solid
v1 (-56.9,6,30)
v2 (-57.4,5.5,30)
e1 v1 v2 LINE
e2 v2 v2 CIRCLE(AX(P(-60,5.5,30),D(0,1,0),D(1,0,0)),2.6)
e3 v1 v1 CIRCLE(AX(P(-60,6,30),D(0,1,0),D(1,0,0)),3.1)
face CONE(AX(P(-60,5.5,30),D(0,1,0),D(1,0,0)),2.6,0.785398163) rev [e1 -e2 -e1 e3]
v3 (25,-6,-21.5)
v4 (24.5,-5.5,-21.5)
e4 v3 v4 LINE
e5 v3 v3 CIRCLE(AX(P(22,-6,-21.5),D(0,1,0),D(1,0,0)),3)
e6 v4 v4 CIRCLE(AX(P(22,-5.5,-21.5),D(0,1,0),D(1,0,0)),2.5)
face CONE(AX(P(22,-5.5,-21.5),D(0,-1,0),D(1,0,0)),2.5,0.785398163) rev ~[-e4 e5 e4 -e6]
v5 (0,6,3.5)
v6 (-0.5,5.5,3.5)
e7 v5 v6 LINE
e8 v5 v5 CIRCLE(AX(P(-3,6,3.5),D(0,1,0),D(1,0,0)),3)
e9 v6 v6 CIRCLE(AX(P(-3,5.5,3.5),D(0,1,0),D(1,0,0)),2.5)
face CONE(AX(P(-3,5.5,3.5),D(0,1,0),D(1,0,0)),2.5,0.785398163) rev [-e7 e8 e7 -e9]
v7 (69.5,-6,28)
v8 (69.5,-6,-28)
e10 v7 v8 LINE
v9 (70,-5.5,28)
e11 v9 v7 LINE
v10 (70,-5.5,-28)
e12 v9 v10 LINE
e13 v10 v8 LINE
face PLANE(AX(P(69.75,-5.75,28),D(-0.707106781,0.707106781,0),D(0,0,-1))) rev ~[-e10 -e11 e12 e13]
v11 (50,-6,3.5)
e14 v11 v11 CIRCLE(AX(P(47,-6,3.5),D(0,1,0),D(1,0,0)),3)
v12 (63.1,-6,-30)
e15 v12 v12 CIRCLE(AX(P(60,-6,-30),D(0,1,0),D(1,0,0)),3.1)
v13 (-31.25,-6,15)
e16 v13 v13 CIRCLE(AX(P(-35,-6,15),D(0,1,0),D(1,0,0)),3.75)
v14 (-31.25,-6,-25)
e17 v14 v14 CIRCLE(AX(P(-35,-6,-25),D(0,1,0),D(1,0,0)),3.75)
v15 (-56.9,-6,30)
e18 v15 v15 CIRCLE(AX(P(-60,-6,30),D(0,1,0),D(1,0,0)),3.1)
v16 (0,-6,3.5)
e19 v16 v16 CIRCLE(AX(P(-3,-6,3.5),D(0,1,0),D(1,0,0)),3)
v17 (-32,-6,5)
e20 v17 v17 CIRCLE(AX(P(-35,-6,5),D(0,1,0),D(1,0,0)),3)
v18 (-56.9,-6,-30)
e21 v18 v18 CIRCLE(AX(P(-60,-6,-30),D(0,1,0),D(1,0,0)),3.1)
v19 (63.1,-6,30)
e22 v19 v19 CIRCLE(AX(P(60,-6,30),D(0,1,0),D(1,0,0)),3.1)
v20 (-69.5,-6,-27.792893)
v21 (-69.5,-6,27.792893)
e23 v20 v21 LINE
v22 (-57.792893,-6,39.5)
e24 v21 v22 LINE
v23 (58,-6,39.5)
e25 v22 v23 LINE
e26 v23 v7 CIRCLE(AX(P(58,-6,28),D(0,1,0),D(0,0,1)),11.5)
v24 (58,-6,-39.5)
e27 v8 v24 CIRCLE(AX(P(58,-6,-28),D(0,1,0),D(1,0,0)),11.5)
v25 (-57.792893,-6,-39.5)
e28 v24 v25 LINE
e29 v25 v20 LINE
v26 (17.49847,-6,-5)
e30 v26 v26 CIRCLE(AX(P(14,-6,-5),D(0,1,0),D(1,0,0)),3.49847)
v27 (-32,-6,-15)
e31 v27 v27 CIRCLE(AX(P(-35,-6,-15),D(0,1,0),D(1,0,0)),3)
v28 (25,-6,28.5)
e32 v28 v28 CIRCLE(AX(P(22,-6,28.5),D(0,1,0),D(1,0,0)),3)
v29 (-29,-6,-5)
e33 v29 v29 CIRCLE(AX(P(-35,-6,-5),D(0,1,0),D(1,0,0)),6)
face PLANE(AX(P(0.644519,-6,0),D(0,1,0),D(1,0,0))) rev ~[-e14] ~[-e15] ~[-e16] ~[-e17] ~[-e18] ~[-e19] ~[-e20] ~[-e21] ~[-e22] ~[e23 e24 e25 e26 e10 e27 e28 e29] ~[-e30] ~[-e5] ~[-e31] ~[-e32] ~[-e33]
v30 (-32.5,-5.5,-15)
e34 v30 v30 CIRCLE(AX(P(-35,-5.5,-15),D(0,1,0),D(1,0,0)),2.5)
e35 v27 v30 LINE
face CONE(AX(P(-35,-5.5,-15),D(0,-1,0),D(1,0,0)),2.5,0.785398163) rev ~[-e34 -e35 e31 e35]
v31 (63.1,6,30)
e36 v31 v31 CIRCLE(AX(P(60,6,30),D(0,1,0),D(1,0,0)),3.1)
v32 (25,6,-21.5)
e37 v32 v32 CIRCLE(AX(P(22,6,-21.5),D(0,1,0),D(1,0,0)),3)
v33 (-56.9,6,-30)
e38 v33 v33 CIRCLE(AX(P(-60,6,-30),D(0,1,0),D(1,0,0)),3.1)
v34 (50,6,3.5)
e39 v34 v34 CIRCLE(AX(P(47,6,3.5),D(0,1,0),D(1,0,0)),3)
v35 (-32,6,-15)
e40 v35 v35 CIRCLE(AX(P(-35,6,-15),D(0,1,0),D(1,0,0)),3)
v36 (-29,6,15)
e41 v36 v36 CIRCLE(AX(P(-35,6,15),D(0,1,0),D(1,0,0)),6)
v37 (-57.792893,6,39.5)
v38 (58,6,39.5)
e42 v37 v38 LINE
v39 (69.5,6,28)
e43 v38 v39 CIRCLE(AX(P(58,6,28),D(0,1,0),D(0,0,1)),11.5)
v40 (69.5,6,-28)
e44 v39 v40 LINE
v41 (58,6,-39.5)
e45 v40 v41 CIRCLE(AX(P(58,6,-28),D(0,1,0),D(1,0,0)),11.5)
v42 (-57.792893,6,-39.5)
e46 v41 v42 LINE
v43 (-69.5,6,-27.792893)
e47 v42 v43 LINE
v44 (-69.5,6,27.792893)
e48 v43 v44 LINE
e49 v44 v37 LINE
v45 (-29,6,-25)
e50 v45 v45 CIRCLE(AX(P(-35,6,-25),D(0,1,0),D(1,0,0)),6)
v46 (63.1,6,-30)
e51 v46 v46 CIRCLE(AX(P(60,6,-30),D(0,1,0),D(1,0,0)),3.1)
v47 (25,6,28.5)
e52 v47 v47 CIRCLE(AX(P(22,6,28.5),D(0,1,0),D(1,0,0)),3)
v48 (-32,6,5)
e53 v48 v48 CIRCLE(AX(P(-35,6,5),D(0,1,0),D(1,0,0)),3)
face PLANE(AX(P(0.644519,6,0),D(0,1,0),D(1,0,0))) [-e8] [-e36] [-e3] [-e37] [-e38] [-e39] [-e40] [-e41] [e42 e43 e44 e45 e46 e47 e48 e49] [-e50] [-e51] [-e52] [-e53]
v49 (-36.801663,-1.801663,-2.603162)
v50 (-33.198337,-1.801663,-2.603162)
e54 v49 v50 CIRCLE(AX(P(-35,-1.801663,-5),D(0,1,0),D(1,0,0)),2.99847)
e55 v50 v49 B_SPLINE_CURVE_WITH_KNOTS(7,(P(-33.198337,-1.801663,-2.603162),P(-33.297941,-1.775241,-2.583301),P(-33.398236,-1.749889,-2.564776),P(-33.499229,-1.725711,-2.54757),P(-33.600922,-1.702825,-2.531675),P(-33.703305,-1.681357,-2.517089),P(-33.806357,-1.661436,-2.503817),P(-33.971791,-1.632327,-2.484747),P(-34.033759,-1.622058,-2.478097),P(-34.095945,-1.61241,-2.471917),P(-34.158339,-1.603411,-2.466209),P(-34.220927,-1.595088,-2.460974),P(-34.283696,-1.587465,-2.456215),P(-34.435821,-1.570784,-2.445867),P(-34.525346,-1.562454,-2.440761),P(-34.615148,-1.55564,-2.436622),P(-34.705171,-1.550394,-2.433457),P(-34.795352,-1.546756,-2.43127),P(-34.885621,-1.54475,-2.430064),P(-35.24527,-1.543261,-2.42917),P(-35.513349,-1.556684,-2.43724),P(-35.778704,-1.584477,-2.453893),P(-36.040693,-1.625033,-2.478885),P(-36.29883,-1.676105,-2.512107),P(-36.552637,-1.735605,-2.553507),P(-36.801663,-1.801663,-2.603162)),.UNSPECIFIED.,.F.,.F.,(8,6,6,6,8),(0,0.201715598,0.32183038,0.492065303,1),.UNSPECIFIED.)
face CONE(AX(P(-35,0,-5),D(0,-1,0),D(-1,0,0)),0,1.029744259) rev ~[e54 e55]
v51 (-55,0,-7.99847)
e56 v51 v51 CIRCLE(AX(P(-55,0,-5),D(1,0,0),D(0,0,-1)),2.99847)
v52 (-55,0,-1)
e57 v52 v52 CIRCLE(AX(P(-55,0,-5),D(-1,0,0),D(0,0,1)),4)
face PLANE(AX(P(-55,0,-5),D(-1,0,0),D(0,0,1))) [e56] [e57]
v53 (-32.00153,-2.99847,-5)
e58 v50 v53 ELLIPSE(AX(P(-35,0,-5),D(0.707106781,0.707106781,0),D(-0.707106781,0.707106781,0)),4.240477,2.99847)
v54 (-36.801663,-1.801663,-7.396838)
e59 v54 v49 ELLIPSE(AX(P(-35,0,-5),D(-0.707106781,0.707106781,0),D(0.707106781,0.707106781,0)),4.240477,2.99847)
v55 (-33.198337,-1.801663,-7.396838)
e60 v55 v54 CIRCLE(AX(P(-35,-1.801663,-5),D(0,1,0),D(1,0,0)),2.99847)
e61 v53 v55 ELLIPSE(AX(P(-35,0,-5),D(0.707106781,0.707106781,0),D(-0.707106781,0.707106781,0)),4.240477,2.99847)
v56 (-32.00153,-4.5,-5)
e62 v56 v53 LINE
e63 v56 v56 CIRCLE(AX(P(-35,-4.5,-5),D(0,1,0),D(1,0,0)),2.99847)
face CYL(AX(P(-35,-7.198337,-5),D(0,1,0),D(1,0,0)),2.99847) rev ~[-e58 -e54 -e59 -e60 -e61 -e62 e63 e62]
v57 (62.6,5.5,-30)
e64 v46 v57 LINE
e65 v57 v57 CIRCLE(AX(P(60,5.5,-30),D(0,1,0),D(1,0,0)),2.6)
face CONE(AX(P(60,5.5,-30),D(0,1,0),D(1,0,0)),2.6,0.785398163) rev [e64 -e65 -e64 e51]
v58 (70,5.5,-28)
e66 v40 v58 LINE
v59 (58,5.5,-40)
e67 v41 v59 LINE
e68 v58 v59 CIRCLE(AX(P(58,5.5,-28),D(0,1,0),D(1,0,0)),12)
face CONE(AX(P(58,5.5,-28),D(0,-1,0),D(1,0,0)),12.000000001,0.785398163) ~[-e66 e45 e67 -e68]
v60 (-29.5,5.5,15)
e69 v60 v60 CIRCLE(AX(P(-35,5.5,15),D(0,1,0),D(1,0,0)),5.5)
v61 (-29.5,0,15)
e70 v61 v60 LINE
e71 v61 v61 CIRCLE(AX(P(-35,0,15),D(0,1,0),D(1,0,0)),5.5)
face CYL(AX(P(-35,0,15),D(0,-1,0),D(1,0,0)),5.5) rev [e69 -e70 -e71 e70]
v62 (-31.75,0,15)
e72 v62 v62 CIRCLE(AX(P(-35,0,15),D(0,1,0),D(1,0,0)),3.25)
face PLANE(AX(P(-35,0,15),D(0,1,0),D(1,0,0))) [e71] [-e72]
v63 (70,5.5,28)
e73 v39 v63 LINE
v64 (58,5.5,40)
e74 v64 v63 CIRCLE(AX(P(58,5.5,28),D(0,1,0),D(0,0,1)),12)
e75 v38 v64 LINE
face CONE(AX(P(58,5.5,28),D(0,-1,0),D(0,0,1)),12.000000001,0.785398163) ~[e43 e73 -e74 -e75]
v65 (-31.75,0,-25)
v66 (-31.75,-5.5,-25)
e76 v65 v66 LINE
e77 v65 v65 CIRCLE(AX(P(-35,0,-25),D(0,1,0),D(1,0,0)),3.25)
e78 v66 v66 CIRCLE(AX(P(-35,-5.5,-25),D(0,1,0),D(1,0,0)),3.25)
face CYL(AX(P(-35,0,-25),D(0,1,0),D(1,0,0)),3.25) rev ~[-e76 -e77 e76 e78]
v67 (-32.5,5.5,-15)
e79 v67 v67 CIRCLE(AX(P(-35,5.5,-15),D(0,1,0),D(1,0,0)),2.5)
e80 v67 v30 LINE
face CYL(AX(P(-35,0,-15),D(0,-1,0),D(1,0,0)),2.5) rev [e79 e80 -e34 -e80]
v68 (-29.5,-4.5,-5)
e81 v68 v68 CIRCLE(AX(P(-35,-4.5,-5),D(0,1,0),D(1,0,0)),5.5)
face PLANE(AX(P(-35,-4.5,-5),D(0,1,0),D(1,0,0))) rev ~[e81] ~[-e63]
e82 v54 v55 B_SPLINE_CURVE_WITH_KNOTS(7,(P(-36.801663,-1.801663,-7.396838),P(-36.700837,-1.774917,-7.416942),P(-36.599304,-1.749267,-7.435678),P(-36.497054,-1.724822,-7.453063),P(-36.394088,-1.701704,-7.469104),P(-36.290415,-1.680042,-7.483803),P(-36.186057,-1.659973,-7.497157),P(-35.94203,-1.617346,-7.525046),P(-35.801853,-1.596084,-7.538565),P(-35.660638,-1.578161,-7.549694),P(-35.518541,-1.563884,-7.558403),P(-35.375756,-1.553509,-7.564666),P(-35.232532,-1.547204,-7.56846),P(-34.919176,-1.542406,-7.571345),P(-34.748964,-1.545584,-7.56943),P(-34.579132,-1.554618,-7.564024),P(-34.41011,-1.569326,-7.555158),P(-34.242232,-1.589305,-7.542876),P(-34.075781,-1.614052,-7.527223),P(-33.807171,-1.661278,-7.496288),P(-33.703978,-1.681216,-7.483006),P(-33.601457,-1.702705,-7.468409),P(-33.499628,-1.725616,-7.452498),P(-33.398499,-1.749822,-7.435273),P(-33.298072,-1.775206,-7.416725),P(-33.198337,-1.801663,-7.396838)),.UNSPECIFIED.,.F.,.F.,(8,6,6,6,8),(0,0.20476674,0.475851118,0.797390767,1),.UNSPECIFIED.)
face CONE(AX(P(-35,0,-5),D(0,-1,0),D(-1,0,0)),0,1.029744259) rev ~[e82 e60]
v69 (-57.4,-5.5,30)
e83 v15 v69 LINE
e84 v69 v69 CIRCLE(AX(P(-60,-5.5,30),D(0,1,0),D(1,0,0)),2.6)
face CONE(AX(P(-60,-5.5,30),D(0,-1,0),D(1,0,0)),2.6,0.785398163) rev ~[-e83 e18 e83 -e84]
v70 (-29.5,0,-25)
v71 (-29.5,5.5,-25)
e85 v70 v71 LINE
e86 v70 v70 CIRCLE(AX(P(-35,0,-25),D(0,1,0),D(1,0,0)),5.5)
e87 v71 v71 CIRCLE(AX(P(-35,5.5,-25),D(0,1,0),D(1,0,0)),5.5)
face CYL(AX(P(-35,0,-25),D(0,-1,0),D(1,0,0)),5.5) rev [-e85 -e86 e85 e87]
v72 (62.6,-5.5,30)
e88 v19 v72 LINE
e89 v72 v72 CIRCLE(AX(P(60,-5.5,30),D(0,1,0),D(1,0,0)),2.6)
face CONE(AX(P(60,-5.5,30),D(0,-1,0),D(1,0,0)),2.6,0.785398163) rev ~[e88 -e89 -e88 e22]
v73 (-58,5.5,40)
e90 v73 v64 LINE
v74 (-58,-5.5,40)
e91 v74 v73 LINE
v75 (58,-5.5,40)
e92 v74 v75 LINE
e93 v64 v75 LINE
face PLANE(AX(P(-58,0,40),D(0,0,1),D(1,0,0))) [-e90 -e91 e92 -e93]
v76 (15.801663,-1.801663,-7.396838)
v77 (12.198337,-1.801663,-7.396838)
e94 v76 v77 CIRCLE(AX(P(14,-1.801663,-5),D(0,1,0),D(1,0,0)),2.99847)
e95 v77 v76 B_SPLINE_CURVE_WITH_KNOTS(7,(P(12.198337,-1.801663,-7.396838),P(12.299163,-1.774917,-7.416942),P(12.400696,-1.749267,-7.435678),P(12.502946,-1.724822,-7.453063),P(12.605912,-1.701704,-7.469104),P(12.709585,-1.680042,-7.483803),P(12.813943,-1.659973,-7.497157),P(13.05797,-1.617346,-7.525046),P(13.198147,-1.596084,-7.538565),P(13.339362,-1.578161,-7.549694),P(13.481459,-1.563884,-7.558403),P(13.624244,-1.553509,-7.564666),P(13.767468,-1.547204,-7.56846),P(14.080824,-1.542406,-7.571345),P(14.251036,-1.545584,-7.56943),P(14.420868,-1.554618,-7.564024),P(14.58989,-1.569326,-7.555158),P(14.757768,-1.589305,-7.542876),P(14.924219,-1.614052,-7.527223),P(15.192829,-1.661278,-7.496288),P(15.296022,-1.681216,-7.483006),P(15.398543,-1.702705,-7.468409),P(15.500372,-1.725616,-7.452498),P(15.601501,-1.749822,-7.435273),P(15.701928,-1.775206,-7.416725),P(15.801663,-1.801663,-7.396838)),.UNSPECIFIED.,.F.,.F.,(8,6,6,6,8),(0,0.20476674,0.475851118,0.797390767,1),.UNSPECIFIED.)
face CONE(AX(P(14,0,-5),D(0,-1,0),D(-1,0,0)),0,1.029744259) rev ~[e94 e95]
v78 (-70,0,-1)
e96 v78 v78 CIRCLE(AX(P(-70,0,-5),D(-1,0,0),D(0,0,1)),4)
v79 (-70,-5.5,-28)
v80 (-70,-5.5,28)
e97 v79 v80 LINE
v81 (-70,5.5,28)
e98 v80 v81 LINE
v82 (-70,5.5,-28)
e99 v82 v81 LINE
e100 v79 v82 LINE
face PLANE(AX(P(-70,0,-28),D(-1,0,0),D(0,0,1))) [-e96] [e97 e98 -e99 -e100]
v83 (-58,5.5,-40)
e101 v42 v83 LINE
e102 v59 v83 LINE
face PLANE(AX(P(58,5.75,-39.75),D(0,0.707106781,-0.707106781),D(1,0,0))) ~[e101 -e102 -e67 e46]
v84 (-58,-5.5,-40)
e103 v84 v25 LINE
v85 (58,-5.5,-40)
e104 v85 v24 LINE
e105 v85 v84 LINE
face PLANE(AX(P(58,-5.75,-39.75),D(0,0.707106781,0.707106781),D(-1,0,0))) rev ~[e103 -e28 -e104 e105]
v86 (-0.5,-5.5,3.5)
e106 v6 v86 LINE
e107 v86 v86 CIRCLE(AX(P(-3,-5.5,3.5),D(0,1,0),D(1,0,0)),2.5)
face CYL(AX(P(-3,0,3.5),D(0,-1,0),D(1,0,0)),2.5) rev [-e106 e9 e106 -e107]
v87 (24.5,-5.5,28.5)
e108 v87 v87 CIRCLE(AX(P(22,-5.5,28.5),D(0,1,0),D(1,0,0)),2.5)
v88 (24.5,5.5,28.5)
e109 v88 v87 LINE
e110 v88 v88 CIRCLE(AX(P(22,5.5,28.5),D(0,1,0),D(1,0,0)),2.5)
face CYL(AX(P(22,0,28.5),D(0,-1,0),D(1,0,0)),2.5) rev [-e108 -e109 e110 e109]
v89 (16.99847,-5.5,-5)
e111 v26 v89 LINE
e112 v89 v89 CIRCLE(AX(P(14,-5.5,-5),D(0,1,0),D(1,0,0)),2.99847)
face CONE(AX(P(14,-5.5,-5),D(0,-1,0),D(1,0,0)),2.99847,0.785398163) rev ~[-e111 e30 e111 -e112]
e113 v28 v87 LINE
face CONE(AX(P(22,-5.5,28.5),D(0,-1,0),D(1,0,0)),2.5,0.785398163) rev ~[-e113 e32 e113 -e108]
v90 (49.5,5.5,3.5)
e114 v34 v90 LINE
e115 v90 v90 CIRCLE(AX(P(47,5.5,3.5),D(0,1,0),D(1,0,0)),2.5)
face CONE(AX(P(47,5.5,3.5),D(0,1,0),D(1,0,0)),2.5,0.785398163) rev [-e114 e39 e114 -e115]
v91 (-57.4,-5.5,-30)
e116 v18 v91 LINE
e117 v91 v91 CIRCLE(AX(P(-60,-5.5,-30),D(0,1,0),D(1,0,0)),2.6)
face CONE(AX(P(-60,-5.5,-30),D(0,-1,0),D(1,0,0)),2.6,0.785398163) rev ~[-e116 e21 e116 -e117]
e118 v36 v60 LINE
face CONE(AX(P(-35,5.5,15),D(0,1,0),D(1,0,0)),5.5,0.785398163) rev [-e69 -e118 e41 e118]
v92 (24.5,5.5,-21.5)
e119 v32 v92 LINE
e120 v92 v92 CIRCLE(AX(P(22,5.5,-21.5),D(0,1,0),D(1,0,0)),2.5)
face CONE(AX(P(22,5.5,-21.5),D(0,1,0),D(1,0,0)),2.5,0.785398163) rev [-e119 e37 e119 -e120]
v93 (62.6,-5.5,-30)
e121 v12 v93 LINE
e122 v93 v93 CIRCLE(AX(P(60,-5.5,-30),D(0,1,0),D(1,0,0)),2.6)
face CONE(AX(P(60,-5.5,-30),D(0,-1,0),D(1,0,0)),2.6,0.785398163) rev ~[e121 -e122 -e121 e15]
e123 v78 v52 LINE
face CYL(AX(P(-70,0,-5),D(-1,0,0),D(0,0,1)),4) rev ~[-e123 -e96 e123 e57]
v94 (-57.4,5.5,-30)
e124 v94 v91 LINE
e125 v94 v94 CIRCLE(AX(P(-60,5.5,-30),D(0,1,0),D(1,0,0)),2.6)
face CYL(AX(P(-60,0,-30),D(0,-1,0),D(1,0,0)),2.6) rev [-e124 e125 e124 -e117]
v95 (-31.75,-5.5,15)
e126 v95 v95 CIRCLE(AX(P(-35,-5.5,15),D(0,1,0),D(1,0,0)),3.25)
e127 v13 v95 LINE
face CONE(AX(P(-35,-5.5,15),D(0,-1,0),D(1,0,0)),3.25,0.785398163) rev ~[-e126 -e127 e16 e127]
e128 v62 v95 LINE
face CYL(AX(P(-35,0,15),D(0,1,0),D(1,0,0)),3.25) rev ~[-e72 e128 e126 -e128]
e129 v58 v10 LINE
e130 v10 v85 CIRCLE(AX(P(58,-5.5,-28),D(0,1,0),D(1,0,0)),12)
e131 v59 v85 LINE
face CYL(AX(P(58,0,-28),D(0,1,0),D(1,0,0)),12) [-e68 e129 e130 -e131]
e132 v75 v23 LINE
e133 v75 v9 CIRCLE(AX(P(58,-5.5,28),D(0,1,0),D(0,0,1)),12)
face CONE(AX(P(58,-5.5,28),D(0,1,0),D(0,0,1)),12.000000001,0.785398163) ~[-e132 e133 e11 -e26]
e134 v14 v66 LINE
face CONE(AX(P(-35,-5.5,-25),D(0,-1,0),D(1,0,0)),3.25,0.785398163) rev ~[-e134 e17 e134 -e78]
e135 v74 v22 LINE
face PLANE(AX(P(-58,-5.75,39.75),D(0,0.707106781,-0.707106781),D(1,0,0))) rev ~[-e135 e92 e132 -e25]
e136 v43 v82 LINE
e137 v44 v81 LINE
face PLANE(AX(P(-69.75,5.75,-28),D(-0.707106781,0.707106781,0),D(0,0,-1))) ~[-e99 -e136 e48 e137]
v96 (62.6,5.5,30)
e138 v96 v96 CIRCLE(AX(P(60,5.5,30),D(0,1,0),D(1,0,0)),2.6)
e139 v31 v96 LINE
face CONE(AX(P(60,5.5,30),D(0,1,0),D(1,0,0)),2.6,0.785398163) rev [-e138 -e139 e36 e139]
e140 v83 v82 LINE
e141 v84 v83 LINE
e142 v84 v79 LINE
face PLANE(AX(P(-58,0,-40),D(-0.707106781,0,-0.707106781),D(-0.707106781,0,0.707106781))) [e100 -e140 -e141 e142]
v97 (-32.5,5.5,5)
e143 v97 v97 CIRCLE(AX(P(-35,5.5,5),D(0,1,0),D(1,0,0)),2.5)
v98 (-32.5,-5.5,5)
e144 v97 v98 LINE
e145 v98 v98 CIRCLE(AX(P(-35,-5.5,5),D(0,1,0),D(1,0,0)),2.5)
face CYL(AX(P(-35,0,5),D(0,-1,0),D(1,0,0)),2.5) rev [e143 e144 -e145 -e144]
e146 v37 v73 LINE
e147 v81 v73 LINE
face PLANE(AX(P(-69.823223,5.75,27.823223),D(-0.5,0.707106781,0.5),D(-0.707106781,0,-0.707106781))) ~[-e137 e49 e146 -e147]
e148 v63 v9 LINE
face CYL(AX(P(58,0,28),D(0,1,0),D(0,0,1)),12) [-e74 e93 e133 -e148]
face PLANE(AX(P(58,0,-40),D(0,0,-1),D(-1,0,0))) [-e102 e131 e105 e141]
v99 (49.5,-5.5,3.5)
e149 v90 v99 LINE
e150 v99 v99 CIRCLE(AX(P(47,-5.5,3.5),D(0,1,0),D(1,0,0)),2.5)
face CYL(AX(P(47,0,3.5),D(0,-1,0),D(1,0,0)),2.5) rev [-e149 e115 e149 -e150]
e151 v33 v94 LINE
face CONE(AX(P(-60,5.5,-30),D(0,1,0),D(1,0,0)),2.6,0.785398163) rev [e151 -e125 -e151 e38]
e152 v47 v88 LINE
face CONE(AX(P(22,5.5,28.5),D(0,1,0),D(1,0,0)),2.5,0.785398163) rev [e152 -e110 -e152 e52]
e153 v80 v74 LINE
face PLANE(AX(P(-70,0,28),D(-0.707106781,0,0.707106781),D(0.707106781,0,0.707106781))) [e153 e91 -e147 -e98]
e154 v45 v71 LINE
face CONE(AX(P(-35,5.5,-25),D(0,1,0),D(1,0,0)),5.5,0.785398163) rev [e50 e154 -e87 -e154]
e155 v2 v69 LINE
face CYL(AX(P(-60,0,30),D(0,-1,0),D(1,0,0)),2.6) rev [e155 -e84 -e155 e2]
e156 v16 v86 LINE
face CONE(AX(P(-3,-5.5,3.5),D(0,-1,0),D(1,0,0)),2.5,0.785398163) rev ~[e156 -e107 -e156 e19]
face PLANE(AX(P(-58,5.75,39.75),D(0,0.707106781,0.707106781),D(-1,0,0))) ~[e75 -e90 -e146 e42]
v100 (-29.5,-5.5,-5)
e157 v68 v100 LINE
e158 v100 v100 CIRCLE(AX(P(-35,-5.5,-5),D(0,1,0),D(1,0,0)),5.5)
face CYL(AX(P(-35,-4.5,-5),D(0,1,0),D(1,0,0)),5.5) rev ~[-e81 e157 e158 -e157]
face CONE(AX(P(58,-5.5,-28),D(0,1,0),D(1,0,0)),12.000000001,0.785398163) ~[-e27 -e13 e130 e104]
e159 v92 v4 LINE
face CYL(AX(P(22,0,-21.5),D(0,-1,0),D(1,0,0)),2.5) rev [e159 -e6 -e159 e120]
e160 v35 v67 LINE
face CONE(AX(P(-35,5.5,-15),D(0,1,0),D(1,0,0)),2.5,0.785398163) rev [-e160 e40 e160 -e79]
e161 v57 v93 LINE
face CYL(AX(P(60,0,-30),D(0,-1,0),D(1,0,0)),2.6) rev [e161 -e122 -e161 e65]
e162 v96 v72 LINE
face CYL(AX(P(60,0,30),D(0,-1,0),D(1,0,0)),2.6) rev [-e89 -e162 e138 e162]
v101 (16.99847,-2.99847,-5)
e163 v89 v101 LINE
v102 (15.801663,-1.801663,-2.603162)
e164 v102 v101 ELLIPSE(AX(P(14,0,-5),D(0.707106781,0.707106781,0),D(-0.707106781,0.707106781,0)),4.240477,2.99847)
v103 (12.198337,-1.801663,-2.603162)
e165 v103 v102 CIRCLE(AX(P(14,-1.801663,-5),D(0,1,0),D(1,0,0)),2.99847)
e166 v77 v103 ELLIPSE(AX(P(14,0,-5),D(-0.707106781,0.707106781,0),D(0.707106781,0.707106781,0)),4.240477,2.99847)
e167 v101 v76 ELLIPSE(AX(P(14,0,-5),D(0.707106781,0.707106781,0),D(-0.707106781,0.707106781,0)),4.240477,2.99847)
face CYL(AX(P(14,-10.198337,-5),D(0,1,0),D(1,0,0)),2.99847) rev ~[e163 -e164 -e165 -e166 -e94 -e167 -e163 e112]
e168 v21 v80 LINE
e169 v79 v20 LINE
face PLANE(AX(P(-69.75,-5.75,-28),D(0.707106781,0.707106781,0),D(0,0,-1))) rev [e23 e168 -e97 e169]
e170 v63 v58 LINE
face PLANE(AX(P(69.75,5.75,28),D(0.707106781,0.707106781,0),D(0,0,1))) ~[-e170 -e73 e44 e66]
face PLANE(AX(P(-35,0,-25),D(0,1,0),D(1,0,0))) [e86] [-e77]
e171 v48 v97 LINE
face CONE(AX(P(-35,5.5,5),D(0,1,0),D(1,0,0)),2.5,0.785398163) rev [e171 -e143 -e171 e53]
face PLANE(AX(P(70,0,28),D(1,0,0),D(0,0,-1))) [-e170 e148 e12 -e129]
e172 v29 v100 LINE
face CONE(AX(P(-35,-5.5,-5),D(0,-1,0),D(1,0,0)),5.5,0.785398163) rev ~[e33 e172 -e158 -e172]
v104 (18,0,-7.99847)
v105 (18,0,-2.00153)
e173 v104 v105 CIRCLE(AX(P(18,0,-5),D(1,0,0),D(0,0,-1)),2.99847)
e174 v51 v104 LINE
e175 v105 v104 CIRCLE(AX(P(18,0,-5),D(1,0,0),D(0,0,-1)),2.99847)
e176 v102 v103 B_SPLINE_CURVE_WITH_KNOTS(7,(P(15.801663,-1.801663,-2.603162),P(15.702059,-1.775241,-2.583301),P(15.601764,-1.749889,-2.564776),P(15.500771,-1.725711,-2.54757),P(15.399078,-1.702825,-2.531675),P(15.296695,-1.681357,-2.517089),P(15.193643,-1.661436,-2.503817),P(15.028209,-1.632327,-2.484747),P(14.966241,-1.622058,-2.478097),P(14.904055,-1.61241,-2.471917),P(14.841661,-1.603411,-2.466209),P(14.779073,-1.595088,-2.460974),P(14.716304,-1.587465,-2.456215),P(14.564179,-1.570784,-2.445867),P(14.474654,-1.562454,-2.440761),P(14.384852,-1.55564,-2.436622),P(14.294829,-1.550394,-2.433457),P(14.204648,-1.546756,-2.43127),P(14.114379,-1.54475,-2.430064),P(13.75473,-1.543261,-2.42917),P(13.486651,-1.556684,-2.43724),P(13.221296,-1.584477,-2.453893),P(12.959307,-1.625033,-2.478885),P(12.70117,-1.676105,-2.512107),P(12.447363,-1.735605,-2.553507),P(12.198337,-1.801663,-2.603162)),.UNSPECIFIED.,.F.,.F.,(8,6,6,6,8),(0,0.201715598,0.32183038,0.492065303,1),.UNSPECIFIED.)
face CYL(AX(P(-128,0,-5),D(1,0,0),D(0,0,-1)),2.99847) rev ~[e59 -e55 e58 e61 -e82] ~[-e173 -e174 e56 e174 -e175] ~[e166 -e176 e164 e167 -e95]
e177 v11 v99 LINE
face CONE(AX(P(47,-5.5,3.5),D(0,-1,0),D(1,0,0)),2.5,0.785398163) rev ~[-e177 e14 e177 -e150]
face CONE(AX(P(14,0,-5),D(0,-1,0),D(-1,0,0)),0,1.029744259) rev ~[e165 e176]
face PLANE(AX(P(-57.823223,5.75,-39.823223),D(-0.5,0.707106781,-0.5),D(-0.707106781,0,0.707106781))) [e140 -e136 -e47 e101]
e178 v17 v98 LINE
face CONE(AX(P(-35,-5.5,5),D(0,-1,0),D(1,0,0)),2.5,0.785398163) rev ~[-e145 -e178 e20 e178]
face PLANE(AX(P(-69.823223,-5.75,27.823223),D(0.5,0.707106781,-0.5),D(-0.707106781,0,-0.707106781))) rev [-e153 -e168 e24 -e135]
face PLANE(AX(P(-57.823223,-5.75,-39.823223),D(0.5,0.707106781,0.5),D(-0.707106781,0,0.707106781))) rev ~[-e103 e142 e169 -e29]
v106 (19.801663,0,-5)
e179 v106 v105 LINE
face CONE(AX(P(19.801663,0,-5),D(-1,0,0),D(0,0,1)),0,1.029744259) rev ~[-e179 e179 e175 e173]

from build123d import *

# Parameters (mm, degrees)
SKETCH1_R                       = 2.6
SKETCH1_R_2                     = 2.5
BOSS_EXTRUDE1_DEPTH             = 6
SKETCH1_3_R                     = 5.5
CUT_EXTRUDE1_DEPTH              = 6
SKETCH2_R                       = 3.25
CUT_EXTRUDE2_DEPTH              = 6
CUT_EXTRUDE3_START              = -4.5
SKETCH1_4_R                     = 5.5
CUT_EXTRUDE3_DEPTH              = 4.5
F_6_0_2361_DIAMETER_HOLE1_D     = 5.99694
F_6_0_2361_DIAMETER_HOLE1_DEPTH = 2.69833746
F_6_0_2361_DIAMETER_HOLE1_TIP   = 1.80166254
F_6_0_2361_DIAMETER_HOLE4_D     = 5.99694
F_6_0_2361_DIAMETER_HOLE4_DEPTH = 4.19833746
F_6_0_2361_DIAMETER_HOLE4_TIP   = 1.80166254
SKETCH9_R                       = 4
CUT_EXTRUDE4_DEPTH              = 15
F_6_0_2361_DIAMETER_HOLE3_D     = 5.99694
F_6_0_2361_DIAMETER_HOLE3_DEPTH = 73
F_6_0_2361_DIAMETER_HOLE3_TIP   = 1.80166254
CHAMFER1_SIZE                   = 0.5
CHAMFER2_SIZE                   = 0.5


with BuildPart() as part:
    # Sketch1 → Boss-Extrude1 (new, symmetric)
    with BuildSketch(Plane(origin=(0, 0, 0), x_dir=(1, 0, 0), z_dir=(0, 1, 0))):
        with BuildLine():
            Line((58, 40), (-58, 40))
            Line((-58, 40), (-70, 28))
            Line((-70, 28), (-70, -28))
            Line((-70, -28), (-58, -40))
            Line((-58, -40), (58, -40))
            ThreePointArc((58, -40), (66.485281374, -36.485281374), (70, -28))
            Line((70, -28), (70, 28))
            ThreePointArc((70, 28), (66.485281374, 36.485281374), (58, 40))
        make_face()
        with Locations((-60, -30)):
            Circle(SKETCH1_R, mode=Mode.SUBTRACT)
        with Locations((-35, -5)):
            Circle(SKETCH1_R_2, mode=Mode.SUBTRACT)
        with Locations((-3, -3.5)):
            Circle(SKETCH1_R_2, mode=Mode.SUBTRACT)
        with Locations((22, -28.5)):
            Circle(SKETCH1_R_2, mode=Mode.SUBTRACT)
        with Locations((60, -30)):
            Circle(SKETCH1_R, mode=Mode.SUBTRACT)
        with Locations((47, -3.5)):
            Circle(SKETCH1_R_2, mode=Mode.SUBTRACT)
        with Locations((-35, 15)):
            Circle(SKETCH1_R_2, mode=Mode.SUBTRACT)
        with Locations((-60, 30)):
            Circle(SKETCH1_R, mode=Mode.SUBTRACT)
        with Locations((22, 21.5)):
            Circle(SKETCH1_R_2, mode=Mode.SUBTRACT)
        with Locations((60, 30)):
            Circle(SKETCH1_R, mode=Mode.SUBTRACT)
    extrude(amount=BOSS_EXTRUDE1_DEPTH, both=True)

    # Sketch1<3> → Cut-Extrude1 (cut)
    with BuildSketch(Plane(origin=(0, 0, 0), x_dir=(1, 0, 0), z_dir=(0, 1, 0))):
        with Locations((-35, 25)):
            Circle(SKETCH1_3_R)
        with Locations((-35, -15)):
            Circle(SKETCH1_3_R)
    extrude(amount=CUT_EXTRUDE1_DEPTH, mode=Mode.SUBTRACT)

    # Sketch2 → Cut-Extrude2 (cut)
    with BuildSketch(Plane(origin=(0, 0, 0), x_dir=(1, 0, 0), z_dir=(0, 1, 0))):
        with Locations((-35, 25)):
            Circle(SKETCH2_R)
        with Locations((-35, -15)):
            Circle(SKETCH2_R)
    extrude(amount=-CUT_EXTRUDE2_DEPTH, mode=Mode.SUBTRACT)

    # Sketch1<4> → Cut-Extrude3 (cut)
    with BuildSketch(Plane(origin=(0, 0, 0), x_dir=(1, 0, 0), z_dir=(0, 1, 0)).offset(CUT_EXTRUDE3_START)):
        with Locations((-35, 5)):
            Circle(SKETCH1_4_R)
    extrude(amount=-CUT_EXTRUDE3_DEPTH, mode=Mode.SUBTRACT)

    # #6 (0.2361) Diameter Hole1
    with Locations(Plane(origin=(0, -4.5, 0), x_dir=(-1, 0, 0), z_dir=(0, -1, 0))):
        with Locations((35, 5)):
            Hole(F_6_0_2361_DIAMETER_HOLE1_D / 2, depth=F_6_0_2361_DIAMETER_HOLE1_DEPTH)
            with Locations((0, 0, -(F_6_0_2361_DIAMETER_HOLE1_DEPTH + F_6_0_2361_DIAMETER_HOLE1_TIP / 2))):  # 118° drill point
                Cone(0, F_6_0_2361_DIAMETER_HOLE1_D / 2, F_6_0_2361_DIAMETER_HOLE1_TIP, mode=Mode.SUBTRACT)

    # #6 (0.2361) Diameter Hole4
    with Locations(Plane(origin=(0, -6, 0), x_dir=(-1, 0, 0), z_dir=(0, -1, 0))):
        with Locations((-14, 5)):
            Hole(F_6_0_2361_DIAMETER_HOLE4_D / 2, depth=F_6_0_2361_DIAMETER_HOLE4_DEPTH)
            with Locations((0, 0, -(F_6_0_2361_DIAMETER_HOLE4_DEPTH + F_6_0_2361_DIAMETER_HOLE4_TIP / 2))):  # 118° drill point
                Cone(0, F_6_0_2361_DIAMETER_HOLE4_D / 2, F_6_0_2361_DIAMETER_HOLE4_TIP, mode=Mode.SUBTRACT)

    # Sketch9 → Cut-Extrude4 (cut)
    with BuildSketch(Plane.ZY.offset(70)):
        with Locations((-5, 0)):
            Circle(SKETCH9_R)
    extrude(amount=-CUT_EXTRUDE4_DEPTH, mode=Mode.SUBTRACT)

    # #6 (0.2361) Diameter Hole3
    with Locations(Plane.ZY.offset(55)):
        with Locations((-5, 0)):
            Hole(F_6_0_2361_DIAMETER_HOLE3_D / 2, depth=F_6_0_2361_DIAMETER_HOLE3_DEPTH)
            with Locations((0, 0, -(F_6_0_2361_DIAMETER_HOLE3_DEPTH + F_6_0_2361_DIAMETER_HOLE3_TIP / 2))):  # 118° drill point
                Cone(0, F_6_0_2361_DIAMETER_HOLE3_D / 2, F_6_0_2361_DIAMETER_HOLE3_TIP, mode=Mode.SUBTRACT)

    # Chamfer1
    chamfer1_edges = [part.edges().sort_by_distance(p)[0] for p in [
        (-37.5, 6, 5),
        (-37.5, 6, -15),
        (-62.6, 6, -30),
        (-62.6, 6, 30),
        (70, 6, 0),
        (66.485281374, 6, 36.485281374),
        (0, 6, 40),
        (-64, 6, 34),
        (-70, 6, 0),
        (-64, 6, -34),
        (0, 6, -40),
        (66.485281374, 6, -36.485281374),
        (57.4, 6, -30),
        (57.4, 6, 30),
        (19.5, 6, -21.5),
        (44.5, 6, 3.5),
        (19.5, 6, 28.5),
        (-5.5, 6, 3.5),
        (-40.5, 6, -25),
        (-40.5, 6, 15),
    ]]
    chamfer(chamfer1_edges, length=CHAMFER1_SIZE)

    # Chamfer2
    chamfer2_edges = [part.edges().sort_by_distance(p)[0] for p in [
        (-37.5, -6, 5),
        (-37.5, -6, -15),
        (-62.6, -6, -30),
        (-62.6, -6, 30),
        (0, -6, -40),
        (-64, -6, -34),
        (-70, -6, 0),
        (-64, -6, 34),
        (0, -6, 40),
        (66.485281374, -6, 36.485281374),
        (70, -6, 0),
        (66.485281374, -6, -36.485281374),
        (57.4, -6, -30),
        (57.4, -6, 30),
        (19.5, -6, -21.5),
        (44.5, -6, 3.5),
        (19.5, -6, 28.5),
        (-5.5, -6, 3.5),
        (-38.25, -6, 15),
        (-38.25, -6, -25),
        (-40.5, -6, -5),
        (11.00153, -6, -5),
    ]]
    chamfer(chamfer2_edges, length=CHAMFER2_SIZE)


solid = part.part
